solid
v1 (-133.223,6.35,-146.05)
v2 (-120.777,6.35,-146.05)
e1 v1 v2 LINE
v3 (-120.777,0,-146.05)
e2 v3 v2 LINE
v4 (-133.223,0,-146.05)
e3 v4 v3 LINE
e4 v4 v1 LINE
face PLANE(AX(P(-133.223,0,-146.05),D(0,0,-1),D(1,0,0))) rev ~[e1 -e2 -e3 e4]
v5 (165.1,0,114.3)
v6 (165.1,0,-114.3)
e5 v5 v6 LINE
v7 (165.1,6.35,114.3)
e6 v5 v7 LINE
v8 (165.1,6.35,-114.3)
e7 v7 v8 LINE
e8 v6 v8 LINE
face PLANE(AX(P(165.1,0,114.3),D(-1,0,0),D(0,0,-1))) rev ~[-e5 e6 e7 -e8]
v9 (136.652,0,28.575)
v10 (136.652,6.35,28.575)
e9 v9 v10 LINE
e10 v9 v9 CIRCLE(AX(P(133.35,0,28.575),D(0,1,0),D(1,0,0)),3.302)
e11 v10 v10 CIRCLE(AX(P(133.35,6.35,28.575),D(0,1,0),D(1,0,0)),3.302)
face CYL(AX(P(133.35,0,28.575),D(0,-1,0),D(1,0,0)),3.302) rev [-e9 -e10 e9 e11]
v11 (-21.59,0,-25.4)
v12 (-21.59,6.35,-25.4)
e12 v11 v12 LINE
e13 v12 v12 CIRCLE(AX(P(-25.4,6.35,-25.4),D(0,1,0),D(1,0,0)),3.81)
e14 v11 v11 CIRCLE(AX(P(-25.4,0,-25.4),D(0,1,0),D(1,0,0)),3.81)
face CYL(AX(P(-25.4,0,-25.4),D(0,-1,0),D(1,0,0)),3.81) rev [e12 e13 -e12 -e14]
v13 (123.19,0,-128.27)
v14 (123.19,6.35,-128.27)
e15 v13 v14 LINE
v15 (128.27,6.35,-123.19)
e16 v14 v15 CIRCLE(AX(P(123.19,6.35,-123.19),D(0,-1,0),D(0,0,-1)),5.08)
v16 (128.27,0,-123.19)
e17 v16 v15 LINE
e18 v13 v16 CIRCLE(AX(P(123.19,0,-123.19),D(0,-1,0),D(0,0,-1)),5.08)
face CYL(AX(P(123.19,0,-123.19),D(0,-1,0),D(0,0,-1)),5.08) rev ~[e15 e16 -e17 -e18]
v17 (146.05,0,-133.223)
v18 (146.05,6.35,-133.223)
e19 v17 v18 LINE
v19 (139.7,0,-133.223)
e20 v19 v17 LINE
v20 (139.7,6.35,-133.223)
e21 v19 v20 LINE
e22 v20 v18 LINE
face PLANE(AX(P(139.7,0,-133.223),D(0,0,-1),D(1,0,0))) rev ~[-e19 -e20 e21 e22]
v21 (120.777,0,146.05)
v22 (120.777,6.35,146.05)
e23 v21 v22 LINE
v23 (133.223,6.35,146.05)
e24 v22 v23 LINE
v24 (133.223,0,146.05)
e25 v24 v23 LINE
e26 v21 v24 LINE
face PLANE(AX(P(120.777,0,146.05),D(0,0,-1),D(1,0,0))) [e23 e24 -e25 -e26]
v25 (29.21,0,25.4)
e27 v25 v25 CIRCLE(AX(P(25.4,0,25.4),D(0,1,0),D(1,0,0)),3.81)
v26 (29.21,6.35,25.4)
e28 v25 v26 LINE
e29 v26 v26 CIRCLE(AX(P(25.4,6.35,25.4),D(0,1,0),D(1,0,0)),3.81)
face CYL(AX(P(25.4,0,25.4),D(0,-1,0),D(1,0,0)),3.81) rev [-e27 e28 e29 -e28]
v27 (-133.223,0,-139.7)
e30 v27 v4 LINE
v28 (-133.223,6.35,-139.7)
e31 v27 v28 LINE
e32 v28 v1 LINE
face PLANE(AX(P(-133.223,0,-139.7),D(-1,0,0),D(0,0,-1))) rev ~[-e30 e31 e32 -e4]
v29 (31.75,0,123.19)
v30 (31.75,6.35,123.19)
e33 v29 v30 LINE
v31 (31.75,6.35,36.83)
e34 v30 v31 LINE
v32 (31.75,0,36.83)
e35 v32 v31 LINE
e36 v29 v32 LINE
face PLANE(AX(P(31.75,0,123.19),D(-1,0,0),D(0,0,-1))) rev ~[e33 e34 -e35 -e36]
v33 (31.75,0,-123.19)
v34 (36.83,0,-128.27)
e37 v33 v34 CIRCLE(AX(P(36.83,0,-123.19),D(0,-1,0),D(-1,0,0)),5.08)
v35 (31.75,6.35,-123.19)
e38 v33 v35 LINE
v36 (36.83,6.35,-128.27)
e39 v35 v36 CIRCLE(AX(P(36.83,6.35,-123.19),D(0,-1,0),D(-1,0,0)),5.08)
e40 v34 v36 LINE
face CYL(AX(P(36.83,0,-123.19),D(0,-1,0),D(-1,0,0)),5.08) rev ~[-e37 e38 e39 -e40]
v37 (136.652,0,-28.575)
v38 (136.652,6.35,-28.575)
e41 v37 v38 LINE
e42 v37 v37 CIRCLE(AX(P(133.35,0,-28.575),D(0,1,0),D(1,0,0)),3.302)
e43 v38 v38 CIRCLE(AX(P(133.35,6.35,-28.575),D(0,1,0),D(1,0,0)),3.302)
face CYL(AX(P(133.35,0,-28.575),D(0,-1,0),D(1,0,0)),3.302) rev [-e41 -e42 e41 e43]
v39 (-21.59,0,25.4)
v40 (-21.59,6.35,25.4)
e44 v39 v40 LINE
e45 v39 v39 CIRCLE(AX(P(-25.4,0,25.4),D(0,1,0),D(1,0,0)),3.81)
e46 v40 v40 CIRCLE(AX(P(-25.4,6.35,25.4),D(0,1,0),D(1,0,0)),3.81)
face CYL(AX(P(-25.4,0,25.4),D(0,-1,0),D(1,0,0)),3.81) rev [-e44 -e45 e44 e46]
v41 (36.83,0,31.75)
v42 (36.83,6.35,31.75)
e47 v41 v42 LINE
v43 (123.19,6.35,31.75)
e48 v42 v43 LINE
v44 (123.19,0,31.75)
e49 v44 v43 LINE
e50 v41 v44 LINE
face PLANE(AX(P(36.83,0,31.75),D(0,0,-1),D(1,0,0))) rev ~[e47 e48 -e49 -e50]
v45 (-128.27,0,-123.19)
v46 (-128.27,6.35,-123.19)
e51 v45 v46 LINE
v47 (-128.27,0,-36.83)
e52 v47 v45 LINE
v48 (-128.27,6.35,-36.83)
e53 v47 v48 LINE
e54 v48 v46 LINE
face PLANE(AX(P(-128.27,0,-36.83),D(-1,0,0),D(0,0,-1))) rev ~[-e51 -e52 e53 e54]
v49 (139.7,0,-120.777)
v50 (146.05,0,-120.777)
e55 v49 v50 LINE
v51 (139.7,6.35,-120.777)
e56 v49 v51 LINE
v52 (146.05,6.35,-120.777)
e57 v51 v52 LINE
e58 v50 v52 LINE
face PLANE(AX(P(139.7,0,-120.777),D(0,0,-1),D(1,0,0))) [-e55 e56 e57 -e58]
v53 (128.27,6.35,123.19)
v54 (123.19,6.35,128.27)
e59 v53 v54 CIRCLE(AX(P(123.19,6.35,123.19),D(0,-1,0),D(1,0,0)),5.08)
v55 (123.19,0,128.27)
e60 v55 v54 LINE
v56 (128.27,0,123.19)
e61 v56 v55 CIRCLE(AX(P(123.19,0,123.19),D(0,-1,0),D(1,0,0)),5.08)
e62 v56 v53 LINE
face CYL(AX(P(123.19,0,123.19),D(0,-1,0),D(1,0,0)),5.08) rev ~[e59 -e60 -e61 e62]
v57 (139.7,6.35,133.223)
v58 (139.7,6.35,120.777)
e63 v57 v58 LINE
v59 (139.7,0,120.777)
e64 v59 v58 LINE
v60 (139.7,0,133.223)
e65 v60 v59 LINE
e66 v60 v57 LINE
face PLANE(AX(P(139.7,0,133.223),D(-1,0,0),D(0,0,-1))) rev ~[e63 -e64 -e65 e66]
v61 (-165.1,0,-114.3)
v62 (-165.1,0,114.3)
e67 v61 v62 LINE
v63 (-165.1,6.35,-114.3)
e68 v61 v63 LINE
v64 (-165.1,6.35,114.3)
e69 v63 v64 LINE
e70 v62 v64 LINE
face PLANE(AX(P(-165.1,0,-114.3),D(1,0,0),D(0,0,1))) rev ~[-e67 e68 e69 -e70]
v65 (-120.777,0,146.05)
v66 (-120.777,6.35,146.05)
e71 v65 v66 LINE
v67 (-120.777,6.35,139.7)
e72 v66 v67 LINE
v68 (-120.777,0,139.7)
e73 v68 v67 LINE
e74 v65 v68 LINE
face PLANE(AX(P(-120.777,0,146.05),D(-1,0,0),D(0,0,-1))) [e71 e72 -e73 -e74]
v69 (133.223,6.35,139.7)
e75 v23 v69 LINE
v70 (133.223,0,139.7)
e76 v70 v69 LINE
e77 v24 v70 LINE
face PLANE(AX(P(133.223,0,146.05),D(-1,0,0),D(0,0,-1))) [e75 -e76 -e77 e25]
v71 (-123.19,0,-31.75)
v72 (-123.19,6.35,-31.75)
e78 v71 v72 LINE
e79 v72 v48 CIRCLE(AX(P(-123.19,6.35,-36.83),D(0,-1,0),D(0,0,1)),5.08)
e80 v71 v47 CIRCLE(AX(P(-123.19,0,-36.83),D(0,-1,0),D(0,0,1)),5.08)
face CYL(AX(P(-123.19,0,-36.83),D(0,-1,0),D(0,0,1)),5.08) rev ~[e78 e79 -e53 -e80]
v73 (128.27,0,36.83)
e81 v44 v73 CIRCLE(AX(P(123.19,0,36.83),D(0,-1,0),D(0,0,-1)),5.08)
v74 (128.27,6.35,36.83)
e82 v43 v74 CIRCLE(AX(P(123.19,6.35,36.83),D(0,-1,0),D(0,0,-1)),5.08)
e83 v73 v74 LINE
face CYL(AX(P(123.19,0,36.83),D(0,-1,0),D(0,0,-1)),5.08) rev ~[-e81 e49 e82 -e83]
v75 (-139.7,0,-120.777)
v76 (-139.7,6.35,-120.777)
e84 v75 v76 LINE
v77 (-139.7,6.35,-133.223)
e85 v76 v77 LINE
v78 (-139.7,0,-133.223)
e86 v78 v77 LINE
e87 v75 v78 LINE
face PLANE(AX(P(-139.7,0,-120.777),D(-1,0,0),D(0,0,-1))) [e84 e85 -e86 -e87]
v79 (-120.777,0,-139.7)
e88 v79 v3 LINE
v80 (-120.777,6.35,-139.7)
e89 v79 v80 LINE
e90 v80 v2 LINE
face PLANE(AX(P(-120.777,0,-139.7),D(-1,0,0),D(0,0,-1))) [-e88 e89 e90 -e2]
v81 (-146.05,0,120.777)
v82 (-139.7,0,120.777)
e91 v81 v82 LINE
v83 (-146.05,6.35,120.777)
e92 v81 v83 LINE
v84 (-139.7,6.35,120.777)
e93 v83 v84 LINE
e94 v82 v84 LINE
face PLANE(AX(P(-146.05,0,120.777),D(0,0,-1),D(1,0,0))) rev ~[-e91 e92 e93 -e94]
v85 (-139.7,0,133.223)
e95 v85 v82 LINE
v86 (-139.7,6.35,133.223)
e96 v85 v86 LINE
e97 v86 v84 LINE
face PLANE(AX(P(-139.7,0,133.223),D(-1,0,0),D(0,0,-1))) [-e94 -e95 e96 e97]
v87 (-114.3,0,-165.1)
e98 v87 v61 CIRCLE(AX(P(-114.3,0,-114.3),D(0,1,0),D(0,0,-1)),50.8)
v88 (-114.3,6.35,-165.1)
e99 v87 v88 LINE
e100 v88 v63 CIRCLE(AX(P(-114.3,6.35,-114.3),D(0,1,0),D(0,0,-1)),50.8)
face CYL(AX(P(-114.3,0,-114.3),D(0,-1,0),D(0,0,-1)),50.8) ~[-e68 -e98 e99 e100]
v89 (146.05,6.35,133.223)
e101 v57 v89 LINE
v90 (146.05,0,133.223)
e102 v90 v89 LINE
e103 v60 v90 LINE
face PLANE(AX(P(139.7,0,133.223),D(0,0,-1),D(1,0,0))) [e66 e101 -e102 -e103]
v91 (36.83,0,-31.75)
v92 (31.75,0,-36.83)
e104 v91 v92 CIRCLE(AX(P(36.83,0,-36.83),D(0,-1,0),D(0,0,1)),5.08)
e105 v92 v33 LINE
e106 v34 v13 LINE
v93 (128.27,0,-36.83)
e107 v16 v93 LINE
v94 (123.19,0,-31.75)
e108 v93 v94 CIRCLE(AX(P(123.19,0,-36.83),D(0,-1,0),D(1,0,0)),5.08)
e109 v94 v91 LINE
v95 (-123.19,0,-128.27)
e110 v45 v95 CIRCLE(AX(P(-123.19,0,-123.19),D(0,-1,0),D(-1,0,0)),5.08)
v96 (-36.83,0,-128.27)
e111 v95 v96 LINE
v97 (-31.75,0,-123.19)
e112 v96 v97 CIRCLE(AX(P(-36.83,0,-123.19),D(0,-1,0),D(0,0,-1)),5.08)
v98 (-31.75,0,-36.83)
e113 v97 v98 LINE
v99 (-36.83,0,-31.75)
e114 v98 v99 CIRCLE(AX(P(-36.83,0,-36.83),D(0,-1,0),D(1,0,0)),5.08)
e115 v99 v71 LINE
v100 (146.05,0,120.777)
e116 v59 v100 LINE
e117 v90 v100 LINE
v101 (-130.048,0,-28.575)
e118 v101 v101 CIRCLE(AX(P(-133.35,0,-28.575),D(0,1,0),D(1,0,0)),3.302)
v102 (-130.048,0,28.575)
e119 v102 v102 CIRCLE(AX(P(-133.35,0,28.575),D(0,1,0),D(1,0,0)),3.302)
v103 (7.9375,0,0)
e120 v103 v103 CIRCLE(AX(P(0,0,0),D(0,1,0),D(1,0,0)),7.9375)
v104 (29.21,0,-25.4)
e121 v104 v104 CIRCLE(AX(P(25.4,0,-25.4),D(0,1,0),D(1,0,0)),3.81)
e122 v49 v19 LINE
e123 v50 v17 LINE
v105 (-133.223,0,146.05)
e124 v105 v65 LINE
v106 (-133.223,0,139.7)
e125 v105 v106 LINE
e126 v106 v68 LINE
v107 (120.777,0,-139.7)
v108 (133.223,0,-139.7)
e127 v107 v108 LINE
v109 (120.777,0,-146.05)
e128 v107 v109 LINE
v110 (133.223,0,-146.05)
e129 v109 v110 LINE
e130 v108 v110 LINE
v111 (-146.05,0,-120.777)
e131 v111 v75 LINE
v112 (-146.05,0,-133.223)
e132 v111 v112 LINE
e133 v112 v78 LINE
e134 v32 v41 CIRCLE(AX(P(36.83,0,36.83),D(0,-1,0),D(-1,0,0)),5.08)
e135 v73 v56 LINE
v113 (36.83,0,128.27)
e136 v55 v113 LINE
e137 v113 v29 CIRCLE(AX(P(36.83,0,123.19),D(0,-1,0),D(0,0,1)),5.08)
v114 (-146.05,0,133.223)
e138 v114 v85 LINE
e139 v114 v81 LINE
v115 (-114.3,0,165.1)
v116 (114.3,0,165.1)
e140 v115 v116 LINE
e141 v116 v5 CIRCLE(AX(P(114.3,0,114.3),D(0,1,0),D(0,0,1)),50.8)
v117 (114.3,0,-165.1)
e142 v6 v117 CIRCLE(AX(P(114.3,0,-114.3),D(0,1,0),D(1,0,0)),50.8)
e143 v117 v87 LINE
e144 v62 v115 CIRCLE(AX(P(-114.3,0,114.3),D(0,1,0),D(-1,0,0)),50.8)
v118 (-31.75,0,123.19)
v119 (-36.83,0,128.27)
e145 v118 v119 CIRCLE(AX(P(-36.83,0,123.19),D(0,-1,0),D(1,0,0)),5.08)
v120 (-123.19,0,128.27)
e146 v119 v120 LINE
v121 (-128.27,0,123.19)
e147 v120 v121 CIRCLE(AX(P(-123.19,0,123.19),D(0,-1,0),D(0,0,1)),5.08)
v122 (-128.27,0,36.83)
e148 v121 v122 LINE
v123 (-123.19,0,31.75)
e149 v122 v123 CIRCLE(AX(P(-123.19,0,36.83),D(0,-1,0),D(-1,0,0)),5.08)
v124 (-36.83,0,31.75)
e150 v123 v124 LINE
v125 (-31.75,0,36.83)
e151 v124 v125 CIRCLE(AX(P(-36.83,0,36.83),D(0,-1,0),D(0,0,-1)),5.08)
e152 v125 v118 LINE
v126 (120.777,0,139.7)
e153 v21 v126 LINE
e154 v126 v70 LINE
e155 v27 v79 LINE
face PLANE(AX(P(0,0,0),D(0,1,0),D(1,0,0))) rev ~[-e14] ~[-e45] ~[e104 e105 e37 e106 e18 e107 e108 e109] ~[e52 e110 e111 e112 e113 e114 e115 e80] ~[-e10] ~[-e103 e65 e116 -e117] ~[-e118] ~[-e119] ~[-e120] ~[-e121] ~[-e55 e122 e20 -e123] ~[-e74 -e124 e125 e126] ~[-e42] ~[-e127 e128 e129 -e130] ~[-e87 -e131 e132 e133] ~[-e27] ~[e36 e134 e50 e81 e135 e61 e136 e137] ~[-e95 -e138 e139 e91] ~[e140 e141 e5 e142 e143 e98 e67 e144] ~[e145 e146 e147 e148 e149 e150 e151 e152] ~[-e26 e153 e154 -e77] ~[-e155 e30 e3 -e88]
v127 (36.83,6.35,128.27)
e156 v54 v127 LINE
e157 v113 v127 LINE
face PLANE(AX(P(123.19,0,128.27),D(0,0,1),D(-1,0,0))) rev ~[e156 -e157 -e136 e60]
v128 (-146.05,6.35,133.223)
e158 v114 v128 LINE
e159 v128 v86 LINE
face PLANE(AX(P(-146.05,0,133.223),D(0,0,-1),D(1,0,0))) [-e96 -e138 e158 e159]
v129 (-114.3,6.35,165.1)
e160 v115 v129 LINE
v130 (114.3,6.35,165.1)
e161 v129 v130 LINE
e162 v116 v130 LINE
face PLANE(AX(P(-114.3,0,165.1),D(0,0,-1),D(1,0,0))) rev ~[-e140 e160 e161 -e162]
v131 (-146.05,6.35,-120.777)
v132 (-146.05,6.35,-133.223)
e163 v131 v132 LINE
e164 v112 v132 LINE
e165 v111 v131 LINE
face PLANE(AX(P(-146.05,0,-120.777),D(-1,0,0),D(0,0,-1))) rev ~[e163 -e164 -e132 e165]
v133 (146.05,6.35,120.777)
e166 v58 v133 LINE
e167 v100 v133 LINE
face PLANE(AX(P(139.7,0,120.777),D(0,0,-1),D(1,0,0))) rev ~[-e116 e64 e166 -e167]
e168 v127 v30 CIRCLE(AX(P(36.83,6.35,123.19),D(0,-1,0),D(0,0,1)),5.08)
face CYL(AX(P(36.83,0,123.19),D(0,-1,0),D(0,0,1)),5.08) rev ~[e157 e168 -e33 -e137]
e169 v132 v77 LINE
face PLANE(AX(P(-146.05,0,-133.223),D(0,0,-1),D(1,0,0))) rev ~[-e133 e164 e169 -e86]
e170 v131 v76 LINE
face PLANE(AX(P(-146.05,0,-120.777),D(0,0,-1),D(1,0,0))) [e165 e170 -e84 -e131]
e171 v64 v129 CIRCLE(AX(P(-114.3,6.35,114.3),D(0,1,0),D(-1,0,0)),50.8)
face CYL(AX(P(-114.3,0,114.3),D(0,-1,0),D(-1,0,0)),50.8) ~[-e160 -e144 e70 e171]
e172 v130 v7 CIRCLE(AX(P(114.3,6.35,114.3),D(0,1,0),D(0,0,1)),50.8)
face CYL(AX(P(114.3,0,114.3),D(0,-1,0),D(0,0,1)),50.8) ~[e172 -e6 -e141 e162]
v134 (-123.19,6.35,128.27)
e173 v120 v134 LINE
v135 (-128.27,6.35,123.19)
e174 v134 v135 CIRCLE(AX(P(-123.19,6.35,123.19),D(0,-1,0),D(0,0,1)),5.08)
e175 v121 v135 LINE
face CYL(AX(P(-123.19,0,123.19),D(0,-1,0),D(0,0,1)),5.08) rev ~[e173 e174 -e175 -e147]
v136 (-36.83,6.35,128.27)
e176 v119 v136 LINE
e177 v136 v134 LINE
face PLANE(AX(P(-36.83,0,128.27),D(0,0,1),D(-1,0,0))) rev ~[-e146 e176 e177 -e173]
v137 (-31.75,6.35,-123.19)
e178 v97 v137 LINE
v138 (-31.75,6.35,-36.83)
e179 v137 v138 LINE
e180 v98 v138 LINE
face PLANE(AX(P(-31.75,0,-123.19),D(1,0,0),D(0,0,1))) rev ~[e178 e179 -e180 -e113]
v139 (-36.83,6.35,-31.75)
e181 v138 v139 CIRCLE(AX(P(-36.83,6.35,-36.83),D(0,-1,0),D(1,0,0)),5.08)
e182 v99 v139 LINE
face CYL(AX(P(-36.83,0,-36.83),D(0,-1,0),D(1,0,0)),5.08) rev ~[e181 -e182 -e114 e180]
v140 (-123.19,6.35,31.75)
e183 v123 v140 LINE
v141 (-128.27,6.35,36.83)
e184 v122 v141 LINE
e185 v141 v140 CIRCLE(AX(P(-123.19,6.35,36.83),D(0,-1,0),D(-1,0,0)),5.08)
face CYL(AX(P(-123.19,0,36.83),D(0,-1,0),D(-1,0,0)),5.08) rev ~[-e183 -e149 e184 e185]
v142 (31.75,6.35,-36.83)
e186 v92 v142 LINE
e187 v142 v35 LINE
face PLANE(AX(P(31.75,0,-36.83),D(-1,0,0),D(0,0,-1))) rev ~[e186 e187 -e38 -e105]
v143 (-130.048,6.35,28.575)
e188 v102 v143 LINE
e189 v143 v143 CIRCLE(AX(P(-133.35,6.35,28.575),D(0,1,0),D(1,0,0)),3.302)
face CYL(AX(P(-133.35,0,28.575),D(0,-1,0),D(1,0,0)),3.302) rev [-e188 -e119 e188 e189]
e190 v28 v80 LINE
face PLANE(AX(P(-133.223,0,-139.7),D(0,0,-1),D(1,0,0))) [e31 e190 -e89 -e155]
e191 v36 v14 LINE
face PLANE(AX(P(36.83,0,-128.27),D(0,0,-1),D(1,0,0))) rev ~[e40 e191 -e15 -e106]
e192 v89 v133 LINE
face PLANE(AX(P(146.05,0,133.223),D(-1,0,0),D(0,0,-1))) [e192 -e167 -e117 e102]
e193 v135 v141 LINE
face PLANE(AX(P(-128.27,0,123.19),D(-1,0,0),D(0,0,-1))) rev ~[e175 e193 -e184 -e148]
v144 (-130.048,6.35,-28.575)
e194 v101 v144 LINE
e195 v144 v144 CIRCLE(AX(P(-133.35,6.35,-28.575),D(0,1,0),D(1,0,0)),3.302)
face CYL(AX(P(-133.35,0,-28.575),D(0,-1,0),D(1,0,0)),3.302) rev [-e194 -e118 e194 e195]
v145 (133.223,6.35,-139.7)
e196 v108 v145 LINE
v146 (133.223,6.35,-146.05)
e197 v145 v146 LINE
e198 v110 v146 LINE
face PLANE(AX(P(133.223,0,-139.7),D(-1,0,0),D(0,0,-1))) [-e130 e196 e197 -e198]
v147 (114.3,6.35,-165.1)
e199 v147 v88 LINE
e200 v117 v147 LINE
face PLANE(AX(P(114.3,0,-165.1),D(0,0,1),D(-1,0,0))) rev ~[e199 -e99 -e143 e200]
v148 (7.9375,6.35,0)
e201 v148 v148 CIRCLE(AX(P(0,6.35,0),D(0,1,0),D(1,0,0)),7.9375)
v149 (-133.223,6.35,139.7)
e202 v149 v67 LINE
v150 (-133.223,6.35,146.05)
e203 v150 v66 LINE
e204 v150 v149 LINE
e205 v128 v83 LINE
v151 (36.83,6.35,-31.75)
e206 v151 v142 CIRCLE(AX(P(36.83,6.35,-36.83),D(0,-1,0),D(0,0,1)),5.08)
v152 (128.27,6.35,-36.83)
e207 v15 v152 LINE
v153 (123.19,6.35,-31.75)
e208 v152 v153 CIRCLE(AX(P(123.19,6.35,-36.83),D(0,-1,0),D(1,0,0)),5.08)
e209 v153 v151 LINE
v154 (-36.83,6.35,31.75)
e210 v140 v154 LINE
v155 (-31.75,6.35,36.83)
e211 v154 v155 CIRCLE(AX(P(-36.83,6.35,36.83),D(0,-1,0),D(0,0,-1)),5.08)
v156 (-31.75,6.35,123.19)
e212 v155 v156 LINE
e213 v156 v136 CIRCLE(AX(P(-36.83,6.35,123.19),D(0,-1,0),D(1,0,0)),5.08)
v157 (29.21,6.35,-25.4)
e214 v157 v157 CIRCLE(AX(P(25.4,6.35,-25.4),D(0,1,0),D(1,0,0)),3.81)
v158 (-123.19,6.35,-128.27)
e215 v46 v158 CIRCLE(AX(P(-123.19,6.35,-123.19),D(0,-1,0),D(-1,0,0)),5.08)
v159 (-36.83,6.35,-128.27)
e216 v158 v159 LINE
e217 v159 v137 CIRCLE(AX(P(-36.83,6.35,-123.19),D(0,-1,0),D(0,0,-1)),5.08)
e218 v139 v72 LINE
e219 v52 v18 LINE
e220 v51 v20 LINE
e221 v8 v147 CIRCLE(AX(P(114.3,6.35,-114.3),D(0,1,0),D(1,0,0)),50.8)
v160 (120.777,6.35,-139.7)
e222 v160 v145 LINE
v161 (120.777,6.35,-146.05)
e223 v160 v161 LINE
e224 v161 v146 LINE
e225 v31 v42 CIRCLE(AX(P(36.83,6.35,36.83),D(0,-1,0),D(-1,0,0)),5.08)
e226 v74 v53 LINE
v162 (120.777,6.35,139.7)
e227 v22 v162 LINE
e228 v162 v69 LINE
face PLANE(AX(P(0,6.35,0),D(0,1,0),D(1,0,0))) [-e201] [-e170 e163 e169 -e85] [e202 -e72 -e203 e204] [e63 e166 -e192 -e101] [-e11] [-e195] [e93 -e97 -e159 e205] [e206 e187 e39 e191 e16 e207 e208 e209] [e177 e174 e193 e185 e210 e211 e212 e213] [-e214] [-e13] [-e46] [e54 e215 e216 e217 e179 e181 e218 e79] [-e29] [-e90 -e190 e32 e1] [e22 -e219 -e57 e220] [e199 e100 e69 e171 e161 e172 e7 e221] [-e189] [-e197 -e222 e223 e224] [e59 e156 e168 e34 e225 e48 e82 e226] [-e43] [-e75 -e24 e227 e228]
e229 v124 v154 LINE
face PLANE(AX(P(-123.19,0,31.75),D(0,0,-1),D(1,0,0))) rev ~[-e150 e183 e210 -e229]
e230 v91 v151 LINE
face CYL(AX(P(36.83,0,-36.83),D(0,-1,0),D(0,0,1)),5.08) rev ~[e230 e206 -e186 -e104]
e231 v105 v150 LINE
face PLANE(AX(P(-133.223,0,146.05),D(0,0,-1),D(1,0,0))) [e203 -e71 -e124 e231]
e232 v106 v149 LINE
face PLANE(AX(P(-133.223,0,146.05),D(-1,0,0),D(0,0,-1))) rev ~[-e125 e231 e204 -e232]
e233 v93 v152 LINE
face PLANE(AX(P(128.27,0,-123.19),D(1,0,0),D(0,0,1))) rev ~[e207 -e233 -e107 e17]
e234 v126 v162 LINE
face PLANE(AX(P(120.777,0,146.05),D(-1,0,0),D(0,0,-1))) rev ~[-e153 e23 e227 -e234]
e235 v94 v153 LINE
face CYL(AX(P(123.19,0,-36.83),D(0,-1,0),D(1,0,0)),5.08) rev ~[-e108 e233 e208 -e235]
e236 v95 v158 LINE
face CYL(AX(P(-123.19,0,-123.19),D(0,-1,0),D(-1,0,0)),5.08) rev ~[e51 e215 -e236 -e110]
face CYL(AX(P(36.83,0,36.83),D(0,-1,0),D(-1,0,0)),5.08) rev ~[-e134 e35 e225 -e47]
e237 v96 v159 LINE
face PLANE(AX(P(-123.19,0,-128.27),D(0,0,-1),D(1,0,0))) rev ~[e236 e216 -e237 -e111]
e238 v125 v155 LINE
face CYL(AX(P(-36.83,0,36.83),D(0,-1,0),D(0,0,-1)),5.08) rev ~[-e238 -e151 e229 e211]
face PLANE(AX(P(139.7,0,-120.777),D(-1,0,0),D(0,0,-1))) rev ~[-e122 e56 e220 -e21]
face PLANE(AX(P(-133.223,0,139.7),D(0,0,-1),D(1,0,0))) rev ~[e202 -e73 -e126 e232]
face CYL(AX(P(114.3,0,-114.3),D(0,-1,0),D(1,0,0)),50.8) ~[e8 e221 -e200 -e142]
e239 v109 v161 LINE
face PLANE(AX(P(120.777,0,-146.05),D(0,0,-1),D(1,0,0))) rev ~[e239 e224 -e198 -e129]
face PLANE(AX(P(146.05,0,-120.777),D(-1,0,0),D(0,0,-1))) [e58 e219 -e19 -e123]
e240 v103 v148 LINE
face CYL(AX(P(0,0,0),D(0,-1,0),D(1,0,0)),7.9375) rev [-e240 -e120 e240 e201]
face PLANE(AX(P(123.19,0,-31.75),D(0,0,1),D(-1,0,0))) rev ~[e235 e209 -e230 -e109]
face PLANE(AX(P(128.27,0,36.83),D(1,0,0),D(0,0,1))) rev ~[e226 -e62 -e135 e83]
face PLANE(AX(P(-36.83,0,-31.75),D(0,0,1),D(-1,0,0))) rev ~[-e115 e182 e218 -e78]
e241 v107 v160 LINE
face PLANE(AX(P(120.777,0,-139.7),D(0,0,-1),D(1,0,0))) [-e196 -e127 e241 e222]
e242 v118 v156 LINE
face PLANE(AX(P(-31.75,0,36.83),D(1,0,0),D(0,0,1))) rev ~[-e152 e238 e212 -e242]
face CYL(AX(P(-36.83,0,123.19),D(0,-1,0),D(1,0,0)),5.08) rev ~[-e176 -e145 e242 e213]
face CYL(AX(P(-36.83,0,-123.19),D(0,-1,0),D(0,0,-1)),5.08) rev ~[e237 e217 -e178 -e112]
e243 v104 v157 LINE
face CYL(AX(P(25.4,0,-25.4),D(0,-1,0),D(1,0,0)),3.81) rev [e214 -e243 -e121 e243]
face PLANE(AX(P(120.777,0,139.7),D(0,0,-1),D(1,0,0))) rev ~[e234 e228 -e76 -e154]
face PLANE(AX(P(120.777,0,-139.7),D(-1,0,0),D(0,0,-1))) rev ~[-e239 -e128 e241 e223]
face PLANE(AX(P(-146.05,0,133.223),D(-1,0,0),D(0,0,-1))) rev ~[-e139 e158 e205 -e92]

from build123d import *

# Parameters (mm, degrees)
SKETCH2_R           = 7.9375
SKETCH2_R_2         = 3.81
SKETCH2_R_3         = 3.302
SKETCH2_W           = 12.446
SKETCH2_H           = 6.35
SKETCH2_W_2         = 6.35
SKETCH2_H_2         = 12.446
BOSS_EXTRUDE1_DEPTH = 6.35


with BuildPart() as part:
    # Sketch2 → Boss-Extrude1 (new body)
    with BuildSketch(Plane(origin=(0, 0, 0), x_dir=(1, 0, 0), z_dir=(0, 1, 0))):
        with BuildLine():
            Line((-114.3, -165.1), (114.3, -165.1))
            ThreePointArc((114.3, -165.1), (150.221024484, -150.221024484), (165.1, -114.3))
            Line((165.1, -114.3), (165.1, 114.3))
            ThreePointArc((165.1, 114.3), (150.221024484, 150.221024484), (114.3, 165.1))
            Line((114.3, 165.1), (-114.3, 165.1))
            ThreePointArc((-114.3, 165.1), (-150.221024484, 150.221024484), (-165.1, 114.3))
            Line((-165.1, 114.3), (-165.1, -114.3))
            ThreePointArc((-165.1, -114.3), (-150.221024484, -150.221024484), (-114.3, -165.1))
        make_face()
        Circle(SKETCH2_R, mode=Mode.SUBTRACT)
        with Locations((25.4, -25.4)):
            Circle(SKETCH2_R_2, mode=Mode.SUBTRACT)
        with Locations((25.4, 25.4)):
            Circle(SKETCH2_R_2, mode=Mode.SUBTRACT)
        with Locations((-25.4, 25.4)):
            Circle(SKETCH2_R_2, mode=Mode.SUBTRACT)
        with Locations((-25.4, -25.4)):
            Circle(SKETCH2_R_2, mode=Mode.SUBTRACT)
        with Locations((133.35, -28.575)):
            Circle(SKETCH2_R_3, mode=Mode.SUBTRACT)
        with Locations((-133.35, -28.575)):
            Circle(SKETCH2_R_3, mode=Mode.SUBTRACT)
        with Locations((-133.35, 28.575)):
            Circle(SKETCH2_R_3, mode=Mode.SUBTRACT)
        with Locations((133.35, 28.575)):
            Circle(SKETCH2_R_3, mode=Mode.SUBTRACT)
        with BuildLine():
            Line((-123.19, 128.27), (-36.83, 128.27))
            ThreePointArc((-36.83, 128.27), (-33.237897552, 126.782102448), (-31.75, 123.19))
            Line((-31.75, 123.19), (-31.75, 36.83))
            ThreePointArc((-31.75, 36.83), (-33.237897552, 33.237897552), (-36.83, 31.75))
            Line((-36.83, 31.75), (-123.19, 31.75))
            ThreePointArc((-123.19, 31.75), (-126.782102448, 33.237897552), (-128.27, 36.83))
            Line((-128.27, 36.83), (-128.27, 123.19))
            ThreePointArc((-128.27, 123.19), (-126.782102448, 126.782102448), (-123.19, 128.27))
        make_face(mode=Mode.SUBTRACT)
        with BuildLine():
            Line((36.83, 128.27), (123.19, 128.27))
            ThreePointArc((123.19, 128.27), (126.782102448, 126.782102448), (128.27, 123.19))
            Line((128.27, 123.19), (128.27, 36.83))
            ThreePointArc((128.27, 36.83), (126.782102448, 33.237897552), (123.19, 31.75))
            Line((123.19, 31.75), (36.83, 31.75))
            ThreePointArc((36.83, 31.75), (33.237897552, 33.237897552), (31.75, 36.83))
            Line((31.75, 36.83), (31.75, 123.19))
            ThreePointArc((31.75, 123.19), (33.237897552, 126.782102448), (36.83, 128.27))
        make_face(mode=Mode.SUBTRACT)
        with BuildLine():
            Line((-123.19, -31.75), (-36.83, -31.75))
            ThreePointArc((-36.83, -31.75), (-33.237897552, -33.237897552), (-31.75, -36.83))
            Line((-31.75, -36.83), (-31.75, -123.19))
            ThreePointArc((-31.75, -123.19), (-33.237897552, -126.782102448), (-36.83, -128.27))
            Line((-36.83, -128.27), (-123.19, -128.27))
            ThreePointArc((-123.19, -128.27), (-126.782102448, -126.782102448), (-128.27, -123.19))
            Line((-128.27, -123.19), (-128.27, -36.83))
            ThreePointArc((-128.27, -36.83), (-126.782102448, -33.237897552), (-123.19, -31.75))
        make_face(mode=Mode.SUBTRACT)
        with BuildLine():
            Line((36.83, -31.75), (123.19, -31.75))
            ThreePointArc((123.19, -31.75), (126.782102448, -33.237897552), (128.27, -36.83))
            Line((128.27, -36.83), (128.27, -123.19))
            ThreePointArc((128.27, -123.19), (126.782102448, -126.782102448), (123.19, -128.27))
            Line((123.19, -128.27), (36.83, -128.27))
            ThreePointArc((36.83, -128.27), (33.237897552, -126.782102448), (31.75, -123.19))
            Line((31.75, -123.19), (31.75, -36.83))
            ThreePointArc((31.75, -36.83), (33.237897552, -33.237897552), (36.83, -31.75))
        make_face(mode=Mode.SUBTRACT)
        with Locations((-127, -142.875)):
            Rectangle(SKETCH2_W, SKETCH2_H, mode=Mode.SUBTRACT)
        with Locations((127, -142.875)):
            Rectangle(SKETCH2_W, SKETCH2_H, mode=Mode.SUBTRACT)
        with Locations((-142.875, 127)):
            Rectangle(SKETCH2_W_2, SKETCH2_H_2, mode=Mode.SUBTRACT)
        with Locations((-142.875, -127)):
            Rectangle(SKETCH2_W_2, SKETCH2_H_2, mode=Mode.SUBTRACT)
        with Locations((127, 142.875)):
            Rectangle(SKETCH2_W, SKETCH2_H, mode=Mode.SUBTRACT)
        with Locations((-127, 142.875)):
            Rectangle(SKETCH2_W, SKETCH2_H, mode=Mode.SUBTRACT)
        with Locations((142.875, -127)):
            Rectangle(SKETCH2_W_2, SKETCH2_H_2, mode=Mode.SUBTRACT)
        with Locations((142.875, 127)):
            Rectangle(SKETCH2_W_2, SKETCH2_H_2, mode=Mode.SUBTRACT)
    extrude(amount=BOSS_EXTRUDE1_DEPTH)


solid = part.part
